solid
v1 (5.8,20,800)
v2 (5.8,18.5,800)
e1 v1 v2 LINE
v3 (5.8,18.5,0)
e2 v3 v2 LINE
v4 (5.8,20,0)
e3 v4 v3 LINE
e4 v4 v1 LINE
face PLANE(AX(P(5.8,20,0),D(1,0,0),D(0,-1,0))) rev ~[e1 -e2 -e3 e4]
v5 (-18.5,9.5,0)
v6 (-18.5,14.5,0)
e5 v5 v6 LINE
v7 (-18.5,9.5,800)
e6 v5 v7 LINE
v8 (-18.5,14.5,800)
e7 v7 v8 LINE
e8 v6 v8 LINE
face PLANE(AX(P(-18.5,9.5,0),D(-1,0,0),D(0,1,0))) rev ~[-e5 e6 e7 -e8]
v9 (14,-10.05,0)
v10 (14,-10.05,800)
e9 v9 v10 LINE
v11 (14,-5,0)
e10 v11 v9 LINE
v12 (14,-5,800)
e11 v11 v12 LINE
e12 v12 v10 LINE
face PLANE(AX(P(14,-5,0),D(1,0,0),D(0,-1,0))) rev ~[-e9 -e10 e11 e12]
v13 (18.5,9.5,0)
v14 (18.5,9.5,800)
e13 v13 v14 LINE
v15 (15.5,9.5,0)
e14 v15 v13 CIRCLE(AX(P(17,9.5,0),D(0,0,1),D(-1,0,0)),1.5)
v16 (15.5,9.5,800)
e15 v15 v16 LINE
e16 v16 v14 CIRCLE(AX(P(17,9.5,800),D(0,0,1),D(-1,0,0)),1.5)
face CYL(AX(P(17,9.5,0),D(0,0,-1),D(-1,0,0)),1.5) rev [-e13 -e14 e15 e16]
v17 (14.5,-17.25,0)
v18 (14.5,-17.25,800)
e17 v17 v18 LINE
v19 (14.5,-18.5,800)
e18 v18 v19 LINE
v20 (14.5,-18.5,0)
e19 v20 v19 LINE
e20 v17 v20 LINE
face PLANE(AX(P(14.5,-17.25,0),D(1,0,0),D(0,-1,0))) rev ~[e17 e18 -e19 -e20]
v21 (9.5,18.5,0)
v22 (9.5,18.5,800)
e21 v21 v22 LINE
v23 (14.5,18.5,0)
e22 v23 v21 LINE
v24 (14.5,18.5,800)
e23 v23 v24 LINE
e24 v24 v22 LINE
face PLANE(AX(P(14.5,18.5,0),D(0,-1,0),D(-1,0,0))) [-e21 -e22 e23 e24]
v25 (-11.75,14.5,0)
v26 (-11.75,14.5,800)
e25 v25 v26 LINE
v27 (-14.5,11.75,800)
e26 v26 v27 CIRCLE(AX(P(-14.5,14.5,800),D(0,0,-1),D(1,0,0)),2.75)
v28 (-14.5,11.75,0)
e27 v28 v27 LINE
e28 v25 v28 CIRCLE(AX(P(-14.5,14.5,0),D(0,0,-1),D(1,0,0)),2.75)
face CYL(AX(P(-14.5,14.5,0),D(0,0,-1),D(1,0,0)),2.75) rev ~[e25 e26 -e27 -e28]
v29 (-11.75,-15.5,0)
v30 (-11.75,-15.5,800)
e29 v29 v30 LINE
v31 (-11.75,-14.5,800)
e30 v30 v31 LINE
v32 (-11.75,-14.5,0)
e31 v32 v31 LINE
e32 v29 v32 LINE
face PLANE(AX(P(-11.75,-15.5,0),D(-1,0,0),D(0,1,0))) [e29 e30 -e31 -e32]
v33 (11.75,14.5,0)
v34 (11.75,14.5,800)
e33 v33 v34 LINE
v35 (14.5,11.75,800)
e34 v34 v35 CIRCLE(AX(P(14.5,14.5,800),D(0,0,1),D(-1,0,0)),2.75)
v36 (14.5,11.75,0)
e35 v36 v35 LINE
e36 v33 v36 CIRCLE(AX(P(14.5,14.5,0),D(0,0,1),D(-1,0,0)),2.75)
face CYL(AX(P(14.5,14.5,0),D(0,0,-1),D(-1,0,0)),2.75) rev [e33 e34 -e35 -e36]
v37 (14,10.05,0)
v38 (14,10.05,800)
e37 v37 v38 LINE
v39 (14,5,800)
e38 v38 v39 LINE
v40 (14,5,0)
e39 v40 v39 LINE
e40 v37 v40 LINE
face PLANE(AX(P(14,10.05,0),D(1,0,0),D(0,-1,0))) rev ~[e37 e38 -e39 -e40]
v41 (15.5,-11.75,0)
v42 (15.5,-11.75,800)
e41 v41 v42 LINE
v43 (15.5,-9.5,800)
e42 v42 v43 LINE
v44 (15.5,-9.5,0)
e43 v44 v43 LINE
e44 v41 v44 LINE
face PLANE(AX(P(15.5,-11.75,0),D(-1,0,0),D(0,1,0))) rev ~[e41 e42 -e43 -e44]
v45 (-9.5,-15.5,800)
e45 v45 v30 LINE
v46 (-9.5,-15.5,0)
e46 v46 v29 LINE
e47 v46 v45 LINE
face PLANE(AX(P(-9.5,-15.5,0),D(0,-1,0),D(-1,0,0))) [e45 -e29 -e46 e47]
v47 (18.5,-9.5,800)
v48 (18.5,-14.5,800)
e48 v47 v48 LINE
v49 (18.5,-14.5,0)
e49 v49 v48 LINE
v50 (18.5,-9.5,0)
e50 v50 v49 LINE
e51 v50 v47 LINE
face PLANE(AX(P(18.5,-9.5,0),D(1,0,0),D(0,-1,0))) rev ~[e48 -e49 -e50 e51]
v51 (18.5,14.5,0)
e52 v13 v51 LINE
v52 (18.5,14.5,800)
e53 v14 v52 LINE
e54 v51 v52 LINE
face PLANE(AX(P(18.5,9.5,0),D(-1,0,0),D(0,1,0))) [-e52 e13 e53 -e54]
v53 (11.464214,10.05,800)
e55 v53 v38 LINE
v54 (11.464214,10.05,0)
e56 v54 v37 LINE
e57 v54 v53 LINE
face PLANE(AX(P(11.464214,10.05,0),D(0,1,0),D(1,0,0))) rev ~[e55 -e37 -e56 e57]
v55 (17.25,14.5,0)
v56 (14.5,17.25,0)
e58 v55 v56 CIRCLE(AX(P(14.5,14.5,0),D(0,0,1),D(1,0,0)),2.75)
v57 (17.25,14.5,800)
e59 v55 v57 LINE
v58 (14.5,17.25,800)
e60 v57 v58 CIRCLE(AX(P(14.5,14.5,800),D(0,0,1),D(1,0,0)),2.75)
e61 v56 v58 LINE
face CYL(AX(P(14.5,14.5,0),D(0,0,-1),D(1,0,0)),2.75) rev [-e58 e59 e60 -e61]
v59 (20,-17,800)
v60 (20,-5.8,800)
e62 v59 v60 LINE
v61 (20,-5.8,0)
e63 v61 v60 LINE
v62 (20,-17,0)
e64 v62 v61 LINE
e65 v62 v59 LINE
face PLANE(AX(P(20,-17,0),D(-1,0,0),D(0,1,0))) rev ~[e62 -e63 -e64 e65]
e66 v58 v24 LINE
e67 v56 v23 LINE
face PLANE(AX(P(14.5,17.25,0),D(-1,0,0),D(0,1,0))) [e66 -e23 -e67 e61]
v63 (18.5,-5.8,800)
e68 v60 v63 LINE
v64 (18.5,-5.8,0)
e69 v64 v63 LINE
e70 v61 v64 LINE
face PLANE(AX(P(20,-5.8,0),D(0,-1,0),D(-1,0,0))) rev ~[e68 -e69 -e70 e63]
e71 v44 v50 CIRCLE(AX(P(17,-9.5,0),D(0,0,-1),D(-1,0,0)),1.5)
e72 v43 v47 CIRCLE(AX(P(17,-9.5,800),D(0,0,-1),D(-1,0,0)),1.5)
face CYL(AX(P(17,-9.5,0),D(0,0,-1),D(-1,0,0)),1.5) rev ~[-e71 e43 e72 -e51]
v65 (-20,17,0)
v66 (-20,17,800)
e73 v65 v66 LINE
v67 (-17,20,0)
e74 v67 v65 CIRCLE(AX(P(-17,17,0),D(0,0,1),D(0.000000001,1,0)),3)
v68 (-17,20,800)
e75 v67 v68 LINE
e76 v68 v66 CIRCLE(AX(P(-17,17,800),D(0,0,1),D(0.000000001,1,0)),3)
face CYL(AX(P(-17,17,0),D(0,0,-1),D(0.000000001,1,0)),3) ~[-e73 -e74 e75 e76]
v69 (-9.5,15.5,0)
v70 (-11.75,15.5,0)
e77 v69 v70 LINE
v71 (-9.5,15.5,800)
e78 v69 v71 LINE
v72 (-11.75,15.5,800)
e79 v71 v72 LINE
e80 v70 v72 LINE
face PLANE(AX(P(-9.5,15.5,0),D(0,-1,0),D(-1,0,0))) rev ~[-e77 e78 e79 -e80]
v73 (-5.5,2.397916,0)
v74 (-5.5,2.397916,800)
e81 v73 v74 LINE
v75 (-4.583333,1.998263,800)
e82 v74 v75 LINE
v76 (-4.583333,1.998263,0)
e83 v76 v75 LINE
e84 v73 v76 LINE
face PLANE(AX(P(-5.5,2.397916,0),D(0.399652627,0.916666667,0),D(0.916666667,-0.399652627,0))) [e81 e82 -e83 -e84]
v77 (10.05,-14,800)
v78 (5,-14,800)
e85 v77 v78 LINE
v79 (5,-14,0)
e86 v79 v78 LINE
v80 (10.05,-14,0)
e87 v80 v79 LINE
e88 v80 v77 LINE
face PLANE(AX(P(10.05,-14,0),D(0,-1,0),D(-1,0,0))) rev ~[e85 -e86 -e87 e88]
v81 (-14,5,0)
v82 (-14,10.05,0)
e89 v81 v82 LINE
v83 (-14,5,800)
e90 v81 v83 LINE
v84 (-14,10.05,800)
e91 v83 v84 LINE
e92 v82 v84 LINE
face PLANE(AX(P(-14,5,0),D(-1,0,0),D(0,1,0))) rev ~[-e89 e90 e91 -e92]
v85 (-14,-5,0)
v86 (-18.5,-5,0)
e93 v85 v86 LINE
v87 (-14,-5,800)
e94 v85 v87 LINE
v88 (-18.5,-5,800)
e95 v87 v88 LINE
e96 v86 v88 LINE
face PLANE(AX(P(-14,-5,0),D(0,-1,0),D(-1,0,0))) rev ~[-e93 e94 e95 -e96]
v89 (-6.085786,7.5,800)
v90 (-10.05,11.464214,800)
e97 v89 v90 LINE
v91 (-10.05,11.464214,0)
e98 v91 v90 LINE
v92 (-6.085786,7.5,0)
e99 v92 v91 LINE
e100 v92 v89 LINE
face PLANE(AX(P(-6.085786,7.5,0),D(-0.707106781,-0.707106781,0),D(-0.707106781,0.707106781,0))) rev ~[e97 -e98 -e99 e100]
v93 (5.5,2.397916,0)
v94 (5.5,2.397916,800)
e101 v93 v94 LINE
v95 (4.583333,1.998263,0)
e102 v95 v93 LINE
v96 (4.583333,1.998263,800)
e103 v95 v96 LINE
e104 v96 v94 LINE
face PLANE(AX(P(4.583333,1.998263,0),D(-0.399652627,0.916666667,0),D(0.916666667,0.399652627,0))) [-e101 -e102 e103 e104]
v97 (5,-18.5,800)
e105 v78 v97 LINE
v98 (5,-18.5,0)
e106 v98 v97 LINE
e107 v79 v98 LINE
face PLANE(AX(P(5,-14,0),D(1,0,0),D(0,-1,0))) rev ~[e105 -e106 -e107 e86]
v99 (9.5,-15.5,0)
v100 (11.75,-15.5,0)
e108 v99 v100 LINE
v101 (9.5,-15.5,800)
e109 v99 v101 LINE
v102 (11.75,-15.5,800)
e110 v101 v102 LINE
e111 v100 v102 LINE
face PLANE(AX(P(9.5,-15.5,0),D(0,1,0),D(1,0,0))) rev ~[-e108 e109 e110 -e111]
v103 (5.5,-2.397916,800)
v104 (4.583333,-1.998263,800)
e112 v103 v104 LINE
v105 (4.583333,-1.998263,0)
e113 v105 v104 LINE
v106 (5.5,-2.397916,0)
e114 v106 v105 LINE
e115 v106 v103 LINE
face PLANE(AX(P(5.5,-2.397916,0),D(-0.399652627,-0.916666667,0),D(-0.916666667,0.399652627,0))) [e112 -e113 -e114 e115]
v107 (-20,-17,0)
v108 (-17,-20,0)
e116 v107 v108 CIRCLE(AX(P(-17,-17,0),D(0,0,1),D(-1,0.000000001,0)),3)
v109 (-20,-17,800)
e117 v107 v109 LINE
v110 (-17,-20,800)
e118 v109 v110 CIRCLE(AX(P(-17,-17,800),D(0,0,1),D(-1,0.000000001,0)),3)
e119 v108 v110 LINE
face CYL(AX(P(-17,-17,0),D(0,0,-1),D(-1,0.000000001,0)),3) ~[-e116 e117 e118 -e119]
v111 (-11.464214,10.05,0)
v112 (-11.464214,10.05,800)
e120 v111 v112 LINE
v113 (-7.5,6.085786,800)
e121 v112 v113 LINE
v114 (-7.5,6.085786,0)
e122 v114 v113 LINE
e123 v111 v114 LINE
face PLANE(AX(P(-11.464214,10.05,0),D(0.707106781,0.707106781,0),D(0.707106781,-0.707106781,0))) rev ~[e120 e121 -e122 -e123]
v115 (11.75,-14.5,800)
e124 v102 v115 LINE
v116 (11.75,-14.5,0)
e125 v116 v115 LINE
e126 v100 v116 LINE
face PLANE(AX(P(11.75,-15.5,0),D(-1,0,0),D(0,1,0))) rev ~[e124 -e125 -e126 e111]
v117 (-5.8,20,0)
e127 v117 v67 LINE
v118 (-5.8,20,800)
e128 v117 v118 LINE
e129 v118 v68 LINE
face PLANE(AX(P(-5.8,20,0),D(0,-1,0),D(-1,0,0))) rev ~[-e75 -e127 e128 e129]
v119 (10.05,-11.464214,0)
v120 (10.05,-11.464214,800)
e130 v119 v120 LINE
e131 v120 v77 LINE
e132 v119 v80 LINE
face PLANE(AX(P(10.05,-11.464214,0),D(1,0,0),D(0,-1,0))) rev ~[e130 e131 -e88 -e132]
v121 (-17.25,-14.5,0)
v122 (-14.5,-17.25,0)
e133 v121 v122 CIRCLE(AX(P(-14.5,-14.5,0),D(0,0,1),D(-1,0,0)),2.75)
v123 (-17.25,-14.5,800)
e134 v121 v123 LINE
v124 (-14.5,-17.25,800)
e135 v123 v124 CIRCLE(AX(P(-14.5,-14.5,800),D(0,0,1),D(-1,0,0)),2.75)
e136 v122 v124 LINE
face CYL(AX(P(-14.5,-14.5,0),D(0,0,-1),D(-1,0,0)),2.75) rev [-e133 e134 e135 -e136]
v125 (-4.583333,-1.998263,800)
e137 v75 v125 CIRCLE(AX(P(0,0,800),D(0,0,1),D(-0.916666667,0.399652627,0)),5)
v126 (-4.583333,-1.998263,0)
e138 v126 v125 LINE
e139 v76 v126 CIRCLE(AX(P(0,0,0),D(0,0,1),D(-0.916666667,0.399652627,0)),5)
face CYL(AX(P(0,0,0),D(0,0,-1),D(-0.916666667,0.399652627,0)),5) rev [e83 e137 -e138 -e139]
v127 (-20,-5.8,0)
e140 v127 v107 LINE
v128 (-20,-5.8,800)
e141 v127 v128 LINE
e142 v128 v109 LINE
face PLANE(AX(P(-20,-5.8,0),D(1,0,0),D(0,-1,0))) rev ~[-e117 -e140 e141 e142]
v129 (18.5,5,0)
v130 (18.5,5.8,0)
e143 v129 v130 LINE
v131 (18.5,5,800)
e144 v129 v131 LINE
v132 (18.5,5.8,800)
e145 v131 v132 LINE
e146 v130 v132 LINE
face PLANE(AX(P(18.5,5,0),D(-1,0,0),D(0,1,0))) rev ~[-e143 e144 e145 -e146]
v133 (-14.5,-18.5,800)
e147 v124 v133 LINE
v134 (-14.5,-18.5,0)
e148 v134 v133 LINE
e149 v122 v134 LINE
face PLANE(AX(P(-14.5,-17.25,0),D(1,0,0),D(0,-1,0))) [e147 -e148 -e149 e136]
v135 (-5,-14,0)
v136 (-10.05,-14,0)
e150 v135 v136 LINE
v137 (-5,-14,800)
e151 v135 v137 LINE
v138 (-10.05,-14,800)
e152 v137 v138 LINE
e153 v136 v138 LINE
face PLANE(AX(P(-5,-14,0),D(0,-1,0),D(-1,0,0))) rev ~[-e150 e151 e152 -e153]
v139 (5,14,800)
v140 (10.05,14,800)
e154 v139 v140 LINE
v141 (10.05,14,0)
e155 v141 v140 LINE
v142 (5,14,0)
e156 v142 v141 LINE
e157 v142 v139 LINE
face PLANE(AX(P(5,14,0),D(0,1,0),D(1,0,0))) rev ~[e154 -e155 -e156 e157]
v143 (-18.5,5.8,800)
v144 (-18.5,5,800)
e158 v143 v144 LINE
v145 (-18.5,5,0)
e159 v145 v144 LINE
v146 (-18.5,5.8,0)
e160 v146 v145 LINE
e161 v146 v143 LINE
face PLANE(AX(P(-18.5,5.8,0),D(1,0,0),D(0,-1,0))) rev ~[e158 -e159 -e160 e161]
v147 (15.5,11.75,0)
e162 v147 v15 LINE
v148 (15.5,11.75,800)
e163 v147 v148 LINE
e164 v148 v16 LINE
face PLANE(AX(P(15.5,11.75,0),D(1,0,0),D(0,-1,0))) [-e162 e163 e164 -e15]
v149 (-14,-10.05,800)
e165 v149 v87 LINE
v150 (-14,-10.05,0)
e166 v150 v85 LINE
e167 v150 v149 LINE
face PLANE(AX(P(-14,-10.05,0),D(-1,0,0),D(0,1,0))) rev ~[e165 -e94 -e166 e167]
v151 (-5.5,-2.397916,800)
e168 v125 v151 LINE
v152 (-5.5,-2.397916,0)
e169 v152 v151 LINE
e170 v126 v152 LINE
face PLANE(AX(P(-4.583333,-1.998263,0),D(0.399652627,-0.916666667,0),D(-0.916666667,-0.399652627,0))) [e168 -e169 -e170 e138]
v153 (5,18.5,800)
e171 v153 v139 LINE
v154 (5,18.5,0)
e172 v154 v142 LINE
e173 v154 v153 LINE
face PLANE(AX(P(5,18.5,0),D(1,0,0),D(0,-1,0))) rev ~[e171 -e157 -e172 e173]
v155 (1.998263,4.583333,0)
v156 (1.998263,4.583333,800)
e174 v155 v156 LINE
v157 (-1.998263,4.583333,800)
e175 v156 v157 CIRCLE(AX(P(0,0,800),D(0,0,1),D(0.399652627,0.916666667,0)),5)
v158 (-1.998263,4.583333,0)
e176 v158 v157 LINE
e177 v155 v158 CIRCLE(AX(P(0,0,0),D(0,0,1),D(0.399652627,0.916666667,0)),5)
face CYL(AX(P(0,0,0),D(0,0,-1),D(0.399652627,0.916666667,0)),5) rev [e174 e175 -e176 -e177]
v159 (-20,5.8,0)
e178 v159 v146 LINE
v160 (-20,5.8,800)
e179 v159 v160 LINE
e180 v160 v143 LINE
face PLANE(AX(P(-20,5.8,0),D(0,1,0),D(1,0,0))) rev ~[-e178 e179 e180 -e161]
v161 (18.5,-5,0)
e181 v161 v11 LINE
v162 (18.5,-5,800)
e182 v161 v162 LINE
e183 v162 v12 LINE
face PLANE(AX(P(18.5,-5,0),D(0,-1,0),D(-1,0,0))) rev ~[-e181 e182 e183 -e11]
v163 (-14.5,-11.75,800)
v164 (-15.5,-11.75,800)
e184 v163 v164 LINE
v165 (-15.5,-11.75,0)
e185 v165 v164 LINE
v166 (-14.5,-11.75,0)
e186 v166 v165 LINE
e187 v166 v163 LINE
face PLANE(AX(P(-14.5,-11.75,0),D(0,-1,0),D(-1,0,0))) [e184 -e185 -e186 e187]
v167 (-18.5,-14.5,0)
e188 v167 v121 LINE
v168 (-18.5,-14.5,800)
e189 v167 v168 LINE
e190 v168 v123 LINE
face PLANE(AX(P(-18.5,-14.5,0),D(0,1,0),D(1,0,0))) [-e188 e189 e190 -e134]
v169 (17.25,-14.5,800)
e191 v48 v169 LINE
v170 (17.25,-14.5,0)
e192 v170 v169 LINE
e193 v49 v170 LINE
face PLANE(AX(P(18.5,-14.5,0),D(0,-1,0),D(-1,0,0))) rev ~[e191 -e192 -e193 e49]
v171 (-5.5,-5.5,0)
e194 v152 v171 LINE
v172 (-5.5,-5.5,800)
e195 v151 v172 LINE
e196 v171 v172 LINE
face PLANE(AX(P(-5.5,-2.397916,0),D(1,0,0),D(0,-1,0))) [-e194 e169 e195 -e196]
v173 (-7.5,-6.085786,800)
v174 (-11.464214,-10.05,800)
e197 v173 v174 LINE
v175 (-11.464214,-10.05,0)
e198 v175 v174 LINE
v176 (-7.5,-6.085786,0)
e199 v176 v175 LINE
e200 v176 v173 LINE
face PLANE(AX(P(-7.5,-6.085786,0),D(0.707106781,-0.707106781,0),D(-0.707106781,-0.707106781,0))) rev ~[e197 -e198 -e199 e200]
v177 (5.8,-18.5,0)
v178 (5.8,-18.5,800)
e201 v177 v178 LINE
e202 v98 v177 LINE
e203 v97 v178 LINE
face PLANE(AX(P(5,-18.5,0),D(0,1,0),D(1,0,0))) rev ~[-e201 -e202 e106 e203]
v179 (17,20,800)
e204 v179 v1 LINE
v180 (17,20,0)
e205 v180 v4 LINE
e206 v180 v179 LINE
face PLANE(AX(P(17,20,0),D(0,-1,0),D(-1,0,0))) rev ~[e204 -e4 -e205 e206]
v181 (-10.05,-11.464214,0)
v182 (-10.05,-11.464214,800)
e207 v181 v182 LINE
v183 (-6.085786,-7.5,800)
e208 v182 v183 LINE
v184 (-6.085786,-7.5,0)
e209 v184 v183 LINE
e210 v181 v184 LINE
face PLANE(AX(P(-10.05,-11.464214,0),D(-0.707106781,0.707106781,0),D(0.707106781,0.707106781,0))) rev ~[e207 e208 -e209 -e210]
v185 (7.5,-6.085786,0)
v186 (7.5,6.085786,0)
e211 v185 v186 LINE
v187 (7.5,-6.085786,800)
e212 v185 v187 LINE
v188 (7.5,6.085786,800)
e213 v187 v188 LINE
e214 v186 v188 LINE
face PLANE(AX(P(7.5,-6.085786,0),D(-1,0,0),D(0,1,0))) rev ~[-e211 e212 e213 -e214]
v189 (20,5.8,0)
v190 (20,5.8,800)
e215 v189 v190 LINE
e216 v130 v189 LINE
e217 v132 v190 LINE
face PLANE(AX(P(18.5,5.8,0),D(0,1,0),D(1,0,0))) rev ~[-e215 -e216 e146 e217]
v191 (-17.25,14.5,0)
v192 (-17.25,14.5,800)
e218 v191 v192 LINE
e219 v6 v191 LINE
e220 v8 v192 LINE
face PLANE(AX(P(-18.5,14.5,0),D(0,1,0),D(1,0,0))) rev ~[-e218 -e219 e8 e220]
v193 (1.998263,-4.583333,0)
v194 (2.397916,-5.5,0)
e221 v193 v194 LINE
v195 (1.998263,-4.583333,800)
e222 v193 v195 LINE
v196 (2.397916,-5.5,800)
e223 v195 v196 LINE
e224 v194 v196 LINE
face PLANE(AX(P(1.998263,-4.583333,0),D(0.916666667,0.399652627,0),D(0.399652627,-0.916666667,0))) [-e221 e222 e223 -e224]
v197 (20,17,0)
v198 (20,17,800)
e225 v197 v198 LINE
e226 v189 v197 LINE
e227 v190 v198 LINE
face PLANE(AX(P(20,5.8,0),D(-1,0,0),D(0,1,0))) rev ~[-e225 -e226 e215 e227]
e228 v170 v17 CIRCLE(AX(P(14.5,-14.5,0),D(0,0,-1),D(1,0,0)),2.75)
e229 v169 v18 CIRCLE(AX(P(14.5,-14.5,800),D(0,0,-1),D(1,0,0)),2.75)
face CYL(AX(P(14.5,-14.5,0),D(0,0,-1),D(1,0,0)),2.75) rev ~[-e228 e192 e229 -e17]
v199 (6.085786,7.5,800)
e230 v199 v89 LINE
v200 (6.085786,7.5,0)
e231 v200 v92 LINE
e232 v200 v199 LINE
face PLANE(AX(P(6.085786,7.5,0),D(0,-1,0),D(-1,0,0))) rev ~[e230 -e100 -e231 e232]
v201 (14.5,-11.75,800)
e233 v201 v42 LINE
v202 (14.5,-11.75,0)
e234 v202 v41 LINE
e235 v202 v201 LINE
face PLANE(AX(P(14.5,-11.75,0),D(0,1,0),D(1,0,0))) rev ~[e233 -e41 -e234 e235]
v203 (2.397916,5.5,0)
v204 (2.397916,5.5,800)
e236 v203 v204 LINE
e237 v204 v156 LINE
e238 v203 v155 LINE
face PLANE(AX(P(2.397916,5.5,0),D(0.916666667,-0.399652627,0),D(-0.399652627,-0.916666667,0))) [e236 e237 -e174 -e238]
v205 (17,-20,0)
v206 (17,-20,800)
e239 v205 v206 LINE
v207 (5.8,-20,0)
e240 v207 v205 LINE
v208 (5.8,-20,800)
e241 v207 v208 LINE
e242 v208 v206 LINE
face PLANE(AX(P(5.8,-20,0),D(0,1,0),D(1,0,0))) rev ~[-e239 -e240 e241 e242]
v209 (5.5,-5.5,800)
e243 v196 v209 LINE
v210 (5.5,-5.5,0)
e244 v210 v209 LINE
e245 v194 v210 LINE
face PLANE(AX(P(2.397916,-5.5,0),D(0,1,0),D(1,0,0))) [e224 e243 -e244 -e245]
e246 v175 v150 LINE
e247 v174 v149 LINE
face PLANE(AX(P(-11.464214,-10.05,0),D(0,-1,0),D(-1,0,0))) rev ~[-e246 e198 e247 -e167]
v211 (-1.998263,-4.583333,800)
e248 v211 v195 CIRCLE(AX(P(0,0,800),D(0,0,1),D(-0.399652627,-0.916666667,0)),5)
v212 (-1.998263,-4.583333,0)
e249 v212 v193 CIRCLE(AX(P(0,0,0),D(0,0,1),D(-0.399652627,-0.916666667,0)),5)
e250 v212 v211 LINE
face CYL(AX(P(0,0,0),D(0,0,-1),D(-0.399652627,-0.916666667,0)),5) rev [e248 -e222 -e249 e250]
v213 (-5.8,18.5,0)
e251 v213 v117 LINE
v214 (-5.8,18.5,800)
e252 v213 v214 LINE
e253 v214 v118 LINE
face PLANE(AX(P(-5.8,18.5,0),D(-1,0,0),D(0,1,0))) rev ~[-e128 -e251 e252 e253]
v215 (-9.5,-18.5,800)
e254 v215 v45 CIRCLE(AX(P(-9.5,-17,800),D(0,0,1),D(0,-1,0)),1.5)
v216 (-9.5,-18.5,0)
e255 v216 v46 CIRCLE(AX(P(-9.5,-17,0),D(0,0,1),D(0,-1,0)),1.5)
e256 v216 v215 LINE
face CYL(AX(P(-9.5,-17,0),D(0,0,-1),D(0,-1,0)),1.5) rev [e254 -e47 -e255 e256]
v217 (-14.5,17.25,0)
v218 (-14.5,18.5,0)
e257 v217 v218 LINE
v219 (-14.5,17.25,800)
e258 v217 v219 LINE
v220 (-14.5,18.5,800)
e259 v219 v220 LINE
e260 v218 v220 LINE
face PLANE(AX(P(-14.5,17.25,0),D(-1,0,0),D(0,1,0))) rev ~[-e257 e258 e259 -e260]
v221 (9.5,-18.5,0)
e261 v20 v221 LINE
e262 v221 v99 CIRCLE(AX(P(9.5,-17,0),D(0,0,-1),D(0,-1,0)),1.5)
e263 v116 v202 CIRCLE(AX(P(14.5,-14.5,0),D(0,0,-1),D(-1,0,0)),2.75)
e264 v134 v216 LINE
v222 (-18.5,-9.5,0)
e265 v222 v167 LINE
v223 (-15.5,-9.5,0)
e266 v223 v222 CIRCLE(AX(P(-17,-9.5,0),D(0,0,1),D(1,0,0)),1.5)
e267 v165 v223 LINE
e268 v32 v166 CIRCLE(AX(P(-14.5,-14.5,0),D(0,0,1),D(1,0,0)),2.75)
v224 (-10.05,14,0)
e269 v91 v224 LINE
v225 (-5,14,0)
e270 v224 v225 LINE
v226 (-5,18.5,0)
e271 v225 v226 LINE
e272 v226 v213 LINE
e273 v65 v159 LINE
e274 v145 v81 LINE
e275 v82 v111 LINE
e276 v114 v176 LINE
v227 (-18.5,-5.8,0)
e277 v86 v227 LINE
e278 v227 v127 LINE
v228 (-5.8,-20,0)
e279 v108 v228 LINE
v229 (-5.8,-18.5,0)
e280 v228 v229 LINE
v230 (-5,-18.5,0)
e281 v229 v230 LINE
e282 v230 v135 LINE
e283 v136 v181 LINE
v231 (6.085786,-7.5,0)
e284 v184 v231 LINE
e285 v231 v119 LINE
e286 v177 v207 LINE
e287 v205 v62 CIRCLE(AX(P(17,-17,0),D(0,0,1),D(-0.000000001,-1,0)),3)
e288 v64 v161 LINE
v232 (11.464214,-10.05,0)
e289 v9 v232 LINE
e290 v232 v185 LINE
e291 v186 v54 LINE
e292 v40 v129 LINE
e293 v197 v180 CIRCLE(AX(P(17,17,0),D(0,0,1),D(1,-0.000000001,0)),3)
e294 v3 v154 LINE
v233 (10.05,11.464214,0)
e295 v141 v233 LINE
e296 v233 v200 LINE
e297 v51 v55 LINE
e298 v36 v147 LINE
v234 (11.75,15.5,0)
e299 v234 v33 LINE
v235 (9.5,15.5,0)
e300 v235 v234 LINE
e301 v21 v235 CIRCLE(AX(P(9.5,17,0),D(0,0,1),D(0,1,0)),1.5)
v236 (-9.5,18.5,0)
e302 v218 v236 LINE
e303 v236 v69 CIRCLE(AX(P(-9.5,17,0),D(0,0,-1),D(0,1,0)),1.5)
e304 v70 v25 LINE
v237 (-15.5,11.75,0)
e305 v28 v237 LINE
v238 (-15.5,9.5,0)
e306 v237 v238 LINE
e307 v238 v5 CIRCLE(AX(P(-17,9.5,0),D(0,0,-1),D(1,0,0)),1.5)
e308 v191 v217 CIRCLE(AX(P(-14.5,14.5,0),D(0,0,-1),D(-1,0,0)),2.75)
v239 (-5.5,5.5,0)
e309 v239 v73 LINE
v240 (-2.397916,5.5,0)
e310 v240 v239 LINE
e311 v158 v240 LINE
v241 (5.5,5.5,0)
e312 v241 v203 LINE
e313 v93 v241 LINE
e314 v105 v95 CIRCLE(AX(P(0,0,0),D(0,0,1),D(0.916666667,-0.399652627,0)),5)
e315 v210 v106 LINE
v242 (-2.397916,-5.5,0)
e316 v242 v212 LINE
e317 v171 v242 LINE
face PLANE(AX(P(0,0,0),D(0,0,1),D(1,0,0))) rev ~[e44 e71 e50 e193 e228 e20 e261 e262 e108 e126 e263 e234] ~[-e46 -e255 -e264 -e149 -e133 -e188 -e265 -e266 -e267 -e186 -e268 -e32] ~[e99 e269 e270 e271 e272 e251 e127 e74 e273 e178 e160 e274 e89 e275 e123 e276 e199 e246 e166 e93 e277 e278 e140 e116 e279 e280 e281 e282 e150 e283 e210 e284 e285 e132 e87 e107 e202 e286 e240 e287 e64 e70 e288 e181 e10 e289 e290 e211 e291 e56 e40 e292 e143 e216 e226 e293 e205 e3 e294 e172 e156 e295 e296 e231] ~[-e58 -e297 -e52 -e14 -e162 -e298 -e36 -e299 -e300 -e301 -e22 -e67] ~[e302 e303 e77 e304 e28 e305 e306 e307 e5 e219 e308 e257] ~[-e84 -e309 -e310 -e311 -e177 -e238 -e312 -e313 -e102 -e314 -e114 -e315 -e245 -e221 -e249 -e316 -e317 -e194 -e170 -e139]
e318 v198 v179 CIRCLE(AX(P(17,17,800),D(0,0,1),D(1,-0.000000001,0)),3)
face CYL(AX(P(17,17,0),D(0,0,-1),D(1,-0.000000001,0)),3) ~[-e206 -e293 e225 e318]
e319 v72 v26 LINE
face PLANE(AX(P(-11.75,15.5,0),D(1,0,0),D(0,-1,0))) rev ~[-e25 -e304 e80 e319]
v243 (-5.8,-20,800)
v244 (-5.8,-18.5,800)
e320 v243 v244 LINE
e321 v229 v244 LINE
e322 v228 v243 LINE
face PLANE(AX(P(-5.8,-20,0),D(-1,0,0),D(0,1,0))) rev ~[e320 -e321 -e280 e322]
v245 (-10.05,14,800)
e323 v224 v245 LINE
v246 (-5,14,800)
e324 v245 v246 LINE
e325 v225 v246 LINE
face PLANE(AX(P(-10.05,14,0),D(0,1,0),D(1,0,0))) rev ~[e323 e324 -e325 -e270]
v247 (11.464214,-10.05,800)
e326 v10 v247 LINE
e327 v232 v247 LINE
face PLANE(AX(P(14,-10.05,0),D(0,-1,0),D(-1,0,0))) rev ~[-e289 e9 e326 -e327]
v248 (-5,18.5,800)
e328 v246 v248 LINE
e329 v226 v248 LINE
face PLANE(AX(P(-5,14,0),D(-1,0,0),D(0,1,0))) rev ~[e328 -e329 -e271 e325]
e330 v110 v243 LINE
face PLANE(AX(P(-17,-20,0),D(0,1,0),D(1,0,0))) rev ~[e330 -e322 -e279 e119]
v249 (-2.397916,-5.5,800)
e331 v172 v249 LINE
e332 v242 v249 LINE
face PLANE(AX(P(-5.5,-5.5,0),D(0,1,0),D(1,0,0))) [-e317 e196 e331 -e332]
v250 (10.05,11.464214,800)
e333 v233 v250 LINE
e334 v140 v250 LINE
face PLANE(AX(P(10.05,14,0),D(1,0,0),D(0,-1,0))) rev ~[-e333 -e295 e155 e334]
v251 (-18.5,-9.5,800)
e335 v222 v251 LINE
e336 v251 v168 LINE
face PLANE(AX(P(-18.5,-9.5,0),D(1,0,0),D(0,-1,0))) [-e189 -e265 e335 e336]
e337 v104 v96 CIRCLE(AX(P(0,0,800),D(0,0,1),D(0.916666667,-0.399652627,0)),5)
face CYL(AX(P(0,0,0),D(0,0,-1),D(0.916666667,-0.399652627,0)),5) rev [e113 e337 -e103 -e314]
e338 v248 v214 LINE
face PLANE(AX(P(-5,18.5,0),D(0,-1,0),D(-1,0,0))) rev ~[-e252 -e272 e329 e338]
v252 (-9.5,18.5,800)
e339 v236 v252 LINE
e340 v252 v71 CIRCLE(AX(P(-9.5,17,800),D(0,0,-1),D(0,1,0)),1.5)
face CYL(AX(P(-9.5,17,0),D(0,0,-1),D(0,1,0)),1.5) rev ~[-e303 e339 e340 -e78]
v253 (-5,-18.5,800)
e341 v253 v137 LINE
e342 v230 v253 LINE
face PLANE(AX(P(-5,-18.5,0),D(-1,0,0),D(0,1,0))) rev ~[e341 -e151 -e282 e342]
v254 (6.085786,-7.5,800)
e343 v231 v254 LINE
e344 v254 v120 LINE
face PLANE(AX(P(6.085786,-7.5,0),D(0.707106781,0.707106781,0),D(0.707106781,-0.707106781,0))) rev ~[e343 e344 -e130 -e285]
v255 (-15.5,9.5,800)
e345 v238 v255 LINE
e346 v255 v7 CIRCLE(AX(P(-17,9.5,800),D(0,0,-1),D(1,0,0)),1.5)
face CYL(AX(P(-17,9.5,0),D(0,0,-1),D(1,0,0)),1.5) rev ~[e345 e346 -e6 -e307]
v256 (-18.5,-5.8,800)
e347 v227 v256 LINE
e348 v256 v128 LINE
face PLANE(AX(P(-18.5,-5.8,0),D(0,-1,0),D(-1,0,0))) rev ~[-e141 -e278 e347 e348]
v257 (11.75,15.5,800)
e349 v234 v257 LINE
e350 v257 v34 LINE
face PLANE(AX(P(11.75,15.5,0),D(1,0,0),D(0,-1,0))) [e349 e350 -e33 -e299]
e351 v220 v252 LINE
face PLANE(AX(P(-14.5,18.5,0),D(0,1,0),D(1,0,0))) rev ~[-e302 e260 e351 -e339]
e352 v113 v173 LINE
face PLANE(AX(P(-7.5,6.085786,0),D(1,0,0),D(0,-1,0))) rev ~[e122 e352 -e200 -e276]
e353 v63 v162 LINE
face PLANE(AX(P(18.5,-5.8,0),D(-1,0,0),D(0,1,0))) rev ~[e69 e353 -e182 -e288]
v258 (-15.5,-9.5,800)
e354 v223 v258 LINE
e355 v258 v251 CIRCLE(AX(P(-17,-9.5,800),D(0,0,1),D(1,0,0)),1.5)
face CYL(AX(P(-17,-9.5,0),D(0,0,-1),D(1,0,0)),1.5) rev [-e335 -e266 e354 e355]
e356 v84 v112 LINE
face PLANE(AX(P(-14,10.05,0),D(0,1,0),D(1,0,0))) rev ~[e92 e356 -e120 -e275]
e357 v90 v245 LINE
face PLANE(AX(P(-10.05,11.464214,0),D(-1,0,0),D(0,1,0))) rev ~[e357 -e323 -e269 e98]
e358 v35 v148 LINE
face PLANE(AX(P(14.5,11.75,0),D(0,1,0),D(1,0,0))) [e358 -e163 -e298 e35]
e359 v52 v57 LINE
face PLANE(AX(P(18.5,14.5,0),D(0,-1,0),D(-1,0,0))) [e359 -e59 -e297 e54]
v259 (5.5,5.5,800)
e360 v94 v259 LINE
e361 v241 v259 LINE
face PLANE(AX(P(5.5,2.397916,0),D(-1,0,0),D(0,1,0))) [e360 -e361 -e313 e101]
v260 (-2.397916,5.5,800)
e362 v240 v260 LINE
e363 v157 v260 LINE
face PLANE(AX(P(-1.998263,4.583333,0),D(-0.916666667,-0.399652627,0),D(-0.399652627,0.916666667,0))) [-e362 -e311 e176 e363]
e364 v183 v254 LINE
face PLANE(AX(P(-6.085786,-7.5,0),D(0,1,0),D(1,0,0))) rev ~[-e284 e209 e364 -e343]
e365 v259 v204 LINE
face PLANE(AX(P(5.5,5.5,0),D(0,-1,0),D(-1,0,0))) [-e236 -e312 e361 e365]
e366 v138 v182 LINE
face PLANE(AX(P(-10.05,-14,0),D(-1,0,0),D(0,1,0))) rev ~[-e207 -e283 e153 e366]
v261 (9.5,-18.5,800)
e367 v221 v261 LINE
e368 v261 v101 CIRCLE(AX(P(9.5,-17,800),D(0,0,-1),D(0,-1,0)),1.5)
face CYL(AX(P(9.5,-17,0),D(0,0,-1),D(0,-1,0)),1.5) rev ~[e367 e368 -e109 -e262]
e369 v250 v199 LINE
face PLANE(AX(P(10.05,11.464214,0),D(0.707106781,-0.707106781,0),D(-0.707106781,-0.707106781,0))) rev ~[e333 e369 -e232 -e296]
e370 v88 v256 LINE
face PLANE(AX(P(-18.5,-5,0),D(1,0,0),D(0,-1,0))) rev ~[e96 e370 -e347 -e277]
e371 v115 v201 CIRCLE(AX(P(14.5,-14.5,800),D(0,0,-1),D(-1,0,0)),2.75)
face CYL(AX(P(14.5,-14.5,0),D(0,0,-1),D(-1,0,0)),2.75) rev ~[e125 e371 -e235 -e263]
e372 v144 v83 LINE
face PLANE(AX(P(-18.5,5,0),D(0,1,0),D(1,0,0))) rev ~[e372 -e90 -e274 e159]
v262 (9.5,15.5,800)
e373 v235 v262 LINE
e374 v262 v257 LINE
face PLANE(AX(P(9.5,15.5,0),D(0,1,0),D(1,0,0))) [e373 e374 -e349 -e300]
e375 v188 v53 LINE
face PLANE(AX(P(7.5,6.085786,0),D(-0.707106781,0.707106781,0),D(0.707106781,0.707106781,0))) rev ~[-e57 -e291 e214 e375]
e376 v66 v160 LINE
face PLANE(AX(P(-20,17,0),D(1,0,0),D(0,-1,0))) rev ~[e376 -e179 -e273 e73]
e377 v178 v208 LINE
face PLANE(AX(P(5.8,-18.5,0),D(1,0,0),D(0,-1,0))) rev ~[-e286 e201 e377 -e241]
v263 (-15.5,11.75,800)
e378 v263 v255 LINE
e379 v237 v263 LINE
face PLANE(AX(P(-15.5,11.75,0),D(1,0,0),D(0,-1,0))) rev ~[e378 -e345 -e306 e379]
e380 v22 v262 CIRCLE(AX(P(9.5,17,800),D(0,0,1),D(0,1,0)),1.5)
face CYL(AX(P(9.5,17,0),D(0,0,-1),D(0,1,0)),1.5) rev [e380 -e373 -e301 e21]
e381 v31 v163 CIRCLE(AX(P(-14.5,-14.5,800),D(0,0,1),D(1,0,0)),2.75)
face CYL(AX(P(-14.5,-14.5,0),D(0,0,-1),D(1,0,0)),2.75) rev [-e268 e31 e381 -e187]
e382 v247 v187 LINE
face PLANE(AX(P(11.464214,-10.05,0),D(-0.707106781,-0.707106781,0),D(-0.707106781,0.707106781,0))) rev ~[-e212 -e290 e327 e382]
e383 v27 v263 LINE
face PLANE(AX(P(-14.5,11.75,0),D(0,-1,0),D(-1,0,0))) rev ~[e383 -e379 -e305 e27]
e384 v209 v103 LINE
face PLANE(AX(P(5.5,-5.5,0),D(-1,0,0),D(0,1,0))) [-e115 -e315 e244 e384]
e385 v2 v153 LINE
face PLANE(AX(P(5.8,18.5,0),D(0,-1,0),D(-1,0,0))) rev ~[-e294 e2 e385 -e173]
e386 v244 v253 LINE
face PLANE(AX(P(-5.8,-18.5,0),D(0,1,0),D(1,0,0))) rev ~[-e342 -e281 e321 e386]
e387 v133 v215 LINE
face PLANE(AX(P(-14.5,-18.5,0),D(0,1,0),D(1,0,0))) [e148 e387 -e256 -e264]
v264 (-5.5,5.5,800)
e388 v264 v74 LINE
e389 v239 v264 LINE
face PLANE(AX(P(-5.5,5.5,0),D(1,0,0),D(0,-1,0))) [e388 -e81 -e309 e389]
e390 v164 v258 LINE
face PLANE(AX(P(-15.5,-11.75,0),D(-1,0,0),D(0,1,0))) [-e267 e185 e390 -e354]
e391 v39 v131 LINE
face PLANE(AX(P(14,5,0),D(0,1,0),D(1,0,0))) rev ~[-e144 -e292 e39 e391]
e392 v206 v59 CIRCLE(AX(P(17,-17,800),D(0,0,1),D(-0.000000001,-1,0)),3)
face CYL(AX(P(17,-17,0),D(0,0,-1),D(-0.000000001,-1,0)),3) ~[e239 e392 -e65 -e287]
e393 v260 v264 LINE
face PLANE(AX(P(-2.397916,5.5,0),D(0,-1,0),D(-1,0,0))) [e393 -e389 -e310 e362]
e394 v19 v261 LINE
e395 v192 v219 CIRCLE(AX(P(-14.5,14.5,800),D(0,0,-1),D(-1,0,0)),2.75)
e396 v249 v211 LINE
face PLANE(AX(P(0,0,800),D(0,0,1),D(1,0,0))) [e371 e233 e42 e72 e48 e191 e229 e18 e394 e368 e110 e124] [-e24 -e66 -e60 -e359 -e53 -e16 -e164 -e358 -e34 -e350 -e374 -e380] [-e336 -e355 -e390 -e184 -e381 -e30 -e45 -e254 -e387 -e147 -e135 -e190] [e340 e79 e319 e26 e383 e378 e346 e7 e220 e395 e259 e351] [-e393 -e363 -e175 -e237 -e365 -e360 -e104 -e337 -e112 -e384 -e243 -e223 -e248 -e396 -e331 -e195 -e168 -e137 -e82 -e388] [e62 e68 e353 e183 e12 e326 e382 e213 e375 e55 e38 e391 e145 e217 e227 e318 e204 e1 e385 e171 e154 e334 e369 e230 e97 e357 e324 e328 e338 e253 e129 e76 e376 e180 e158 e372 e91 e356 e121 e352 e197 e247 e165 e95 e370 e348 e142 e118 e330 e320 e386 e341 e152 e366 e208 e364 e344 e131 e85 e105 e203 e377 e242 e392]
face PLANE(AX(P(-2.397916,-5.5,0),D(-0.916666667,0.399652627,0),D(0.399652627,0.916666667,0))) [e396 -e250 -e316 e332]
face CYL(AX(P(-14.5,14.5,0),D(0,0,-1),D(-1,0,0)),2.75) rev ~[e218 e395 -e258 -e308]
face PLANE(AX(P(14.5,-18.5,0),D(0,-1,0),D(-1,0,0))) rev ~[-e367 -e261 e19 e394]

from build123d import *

# Parameters (mm, degrees)
EXTRUDE1_DEPTH = 800


with BuildPart() as part:
    # Sketch1 → Extrude1 (new body)
    with BuildSketch(Plane.XY):
        with BuildLine():
            Line((5.8, -20), (17, -20))
            ThreePointArc((17, -20), (19.121320344, -19.121320344), (20, -17))
            Line((20, -17), (20, -5.8))
            Line((20, -5.8), (18.5, -5.8))
            Line((18.5, -5.8), (18.5, -5))
            Line((18.5, -5), (14, -5))
            Line((14, -5), (14, -10.05))
            Line((14, -10.05), (11.464213562, -10.05))
            Line((11.464213562, -10.05), (7.5, -6.085786438))
            Line((7.5, -6.085786438), (7.5, 6.085786438))
            Line((7.5, 6.085786438), (11.464213562, 10.05))
            Line((11.464213562, 10.05), (14, 10.05))
            Line((14, 10.05), (14, 5))
            Line((14, 5), (18.5, 5))
            Line((18.5, 5), (18.5, 5.8))
            Line((18.5, 5.8), (20, 5.8))
            Line((20, 5.8), (20, 17))
            ThreePointArc((20, 17), (19.121320344, 19.121320344), (17, 20))
            Line((17, 20), (5.8, 20))
            Line((5.8, 20), (5.8, 18.5))
            Line((5.8, 18.5), (5, 18.5))
            Line((5, 18.5), (5, 14))
            Line((5, 14), (10.05, 14))
            Line((10.05, 14), (10.05, 11.464213562))
            Line((10.05, 11.464213562), (6.085786438, 7.5))
            Line((6.085786438, 7.5), (-6.085786438, 7.5))
            Line((-6.085786438, 7.5), (-10.05, 11.464213562))
            Line((-10.05, 11.464213562), (-10.05, 14))
            Line((-10.05, 14), (-5, 14))
            Line((-5, 14), (-5, 18.5))
            Line((-5, 18.5), (-5.8, 18.5))
            Line((-5.8, 18.5), (-5.8, 20))
            Line((-5.8, 20), (-17, 20))
            ThreePointArc((-17, 20), (-19.121320344, 19.121320344), (-20, 17))
            Line((-20, 17), (-20, 5.8))
            Line((-20, 5.8), (-18.5, 5.8))
            Line((-18.5, 5.8), (-18.5, 5))
            Line((-18.5, 5), (-14, 5))
            Line((-14, 5), (-14, 10.05))
            Line((-14, 10.05), (-11.464213562, 10.05))
            Line((-11.464213562, 10.05), (-7.5, 6.085786438))
            Line((-7.5, 6.085786438), (-7.5, -6.085786438))
            Line((-7.5, -6.085786438), (-11.464213562, -10.05))
            Line((-11.464213562, -10.05), (-14, -10.05))
            Line((-14, -10.05), (-14, -5))
            Line((-14, -5), (-18.5, -5))
            Line((-18.5, -5), (-18.5, -5.8))
            Line((-18.5, -5.8), (-20, -5.8))
            Line((-20, -5.8), (-20, -17))
            ThreePointArc((-20, -17), (-19.121320344, -19.121320344), (-17, -20))
            Line((-17, -20), (-5.8, -20))
            Line((-5.8, -20), (-5.8, -18.5))
            Line((-5.8, -18.5), (-5, -18.5))
            Line((-5, -18.5), (-5, -14))
            Line((-5, -14), (-10.05, -14))
            Line((-10.05, -14), (-10.05, -11.464213562))
            Line((-10.05, -11.464213562), (-6.085786438, -7.5))
            Line((-6.085786438, -7.5), (6.085786438, -7.5))
            Line((6.085786438, -7.5), (10.05, -11.464213562))
            Line((10.05, -11.464213562), (10.05, -14))
            Line((10.05, -14), (5, -14))
            Line((5, -14), (5, -18.5))
            Line((5, -18.5), (5.8, -18.5))
            Line((5.8, -18.5), (5.8, -20))
        make_face()
        with BuildLine():
            Line((14.5, -18.5), (9.5, -18.5))
            ThreePointArc((9.5, -18.5), (8, -17), (9.5, -15.5))
            Line((9.5, -15.5), (11.75, -15.5))
            Line((11.75, -15.5), (11.75, -14.5))
            ThreePointArc((11.75, -14.5), (12.555456352, -12.555456352), (14.5, -11.75))
            Line((14.5, -11.75), (15.5, -11.75))
            Line((15.5, -11.75), (15.5, -9.5))
            ThreePointArc((15.5, -9.5), (17, -8), (18.5, -9.5))
            Line((18.5, -9.5), (18.5, -14.5))
            Line((18.5, -14.5), (17.25, -14.5))
            ThreePointArc((17.25, -14.5), (16.444543648, -16.444543648), (14.5, -17.25))
            Line((14.5, -17.25), (14.5, -18.5))
        make_face(mode=Mode.SUBTRACT)
        with BuildLine():
            Line((18.5, 14.5), (17.25, 14.5))
            ThreePointArc((17.25, 14.5), (16.444543648, 16.444543648), (14.5, 17.25))
            Line((14.5, 17.25), (14.5, 18.5))
            Line((14.5, 18.5), (9.5, 18.5))
            ThreePointArc((9.5, 18.5), (8, 17), (9.5, 15.5))
            Line((9.5, 15.5), (11.75, 15.5))
            Line((11.75, 15.5), (11.75, 14.5))
            ThreePointArc((11.75, 14.5), (12.555456352, 12.555456352), (14.5, 11.75))
            Line((14.5, 11.75), (15.5, 11.75))
            Line((15.5, 11.75), (15.5, 9.5))
            ThreePointArc((15.5, 9.5), (17, 8), (18.5, 9.5))
            Line((18.5, 9.5), (18.5, 14.5))
        make_face(mode=Mode.SUBTRACT)
        with BuildLine():
            Line((5.5, 5.5), (2.397915762, 5.5))
            Line((2.397915762, 5.5), (1.998263135, 4.583333333))
            ThreePointArc((1.998263135, 4.583333333), (0, 5), (-1.998263135, 4.583333333))
            Line((-1.998263135, 4.583333333), (-2.397915762, 5.5))
            Line((-2.397915762, 5.5), (-5.5, 5.5))
            Line((-5.5, 5.5), (-5.5, 2.397915762))
            Line((-5.5, 2.397915762), (-4.583333333, 1.998263135))
            ThreePointArc((-4.583333333, 1.998263135), (-5, 0), (-4.583333333, -1.998263135))
            Line((-4.583333333, -1.998263135), (-5.5, -2.397915762))
            Line((-5.5, -2.397915762), (-5.5, -5.5))
            Line((-5.5, -5.5), (-2.397915762, -5.5))
            Line((-2.397915762, -5.5), (-1.998263135, -4.583333333))
            ThreePointArc((-1.998263135, -4.583333333), (0, -5), (1.998263135, -4.583333333))
            Line((1.998263135, -4.583333333), (2.397915762, -5.5))
            Line((2.397915762, -5.5), (5.5, -5.5))
            Line((5.5, -5.5), (5.5, -2.397915762))
            Line((5.5, -2.397915762), (4.583333333, -1.998263135))
            ThreePointArc((4.583333333, -1.998263135), (5, 0), (4.583333333, 1.998263135))
            Line((4.583333333, 1.998263135), (5.5, 2.397915762))
            Line((5.5, 2.397915762), (5.5, 5.5))
        make_face(mode=Mode.SUBTRACT)
        with BuildLine():
            Line((-18.5, -14.5), (-17.25, -14.5))
            ThreePointArc((-17.25, -14.5), (-16.444543648, -16.444543648), (-14.5, -17.25))
            Line((-14.5, -17.25), (-14.5, -18.5))
            Line((-14.5, -18.5), (-9.5, -18.5))
            ThreePointArc((-9.5, -18.5), (-8, -17), (-9.5, -15.5))
            Line((-9.5, -15.5), (-11.75, -15.5))
            Line((-11.75, -15.5), (-11.75, -14.5))
            ThreePointArc((-11.75, -14.5), (-12.555456352, -12.555456352), (-14.5, -11.75))
            Line((-14.5, -11.75), (-15.5, -11.75))
            Line((-15.5, -11.75), (-15.5, -9.5))
            ThreePointArc((-15.5, -9.5), (-17, -8), (-18.5, -9.5))
            Line((-18.5, -9.5), (-18.5, -14.5))
        make_face(mode=Mode.SUBTRACT)
        with BuildLine():
            Line((-14.5, 18.5), (-9.5, 18.5))
            ThreePointArc((-9.5, 18.5), (-8, 17), (-9.5, 15.5))
            Line((-9.5, 15.5), (-11.75, 15.5))
            Line((-11.75, 15.5), (-11.75, 14.5))
            ThreePointArc((-11.75, 14.5), (-12.555456352, 12.555456352), (-14.5, 11.75))
            Line((-14.5, 11.75), (-15.5, 11.75))
            Line((-15.5, 11.75), (-15.5, 9.5))
            ThreePointArc((-15.5, 9.5), (-17, 8), (-18.5, 9.5))
            Line((-18.5, 9.5), (-18.5, 14.5))
            Line((-18.5, 14.5), (-17.25, 14.5))
            ThreePointArc((-17.25, 14.5), (-16.444543648, 16.444543648), (-14.5, 17.25))
            Line((-14.5, 17.25), (-14.5, 18.5))
        make_face(mode=Mode.SUBTRACT)
    extrude(amount=EXTRUDE1_DEPTH)


solid = part.part
